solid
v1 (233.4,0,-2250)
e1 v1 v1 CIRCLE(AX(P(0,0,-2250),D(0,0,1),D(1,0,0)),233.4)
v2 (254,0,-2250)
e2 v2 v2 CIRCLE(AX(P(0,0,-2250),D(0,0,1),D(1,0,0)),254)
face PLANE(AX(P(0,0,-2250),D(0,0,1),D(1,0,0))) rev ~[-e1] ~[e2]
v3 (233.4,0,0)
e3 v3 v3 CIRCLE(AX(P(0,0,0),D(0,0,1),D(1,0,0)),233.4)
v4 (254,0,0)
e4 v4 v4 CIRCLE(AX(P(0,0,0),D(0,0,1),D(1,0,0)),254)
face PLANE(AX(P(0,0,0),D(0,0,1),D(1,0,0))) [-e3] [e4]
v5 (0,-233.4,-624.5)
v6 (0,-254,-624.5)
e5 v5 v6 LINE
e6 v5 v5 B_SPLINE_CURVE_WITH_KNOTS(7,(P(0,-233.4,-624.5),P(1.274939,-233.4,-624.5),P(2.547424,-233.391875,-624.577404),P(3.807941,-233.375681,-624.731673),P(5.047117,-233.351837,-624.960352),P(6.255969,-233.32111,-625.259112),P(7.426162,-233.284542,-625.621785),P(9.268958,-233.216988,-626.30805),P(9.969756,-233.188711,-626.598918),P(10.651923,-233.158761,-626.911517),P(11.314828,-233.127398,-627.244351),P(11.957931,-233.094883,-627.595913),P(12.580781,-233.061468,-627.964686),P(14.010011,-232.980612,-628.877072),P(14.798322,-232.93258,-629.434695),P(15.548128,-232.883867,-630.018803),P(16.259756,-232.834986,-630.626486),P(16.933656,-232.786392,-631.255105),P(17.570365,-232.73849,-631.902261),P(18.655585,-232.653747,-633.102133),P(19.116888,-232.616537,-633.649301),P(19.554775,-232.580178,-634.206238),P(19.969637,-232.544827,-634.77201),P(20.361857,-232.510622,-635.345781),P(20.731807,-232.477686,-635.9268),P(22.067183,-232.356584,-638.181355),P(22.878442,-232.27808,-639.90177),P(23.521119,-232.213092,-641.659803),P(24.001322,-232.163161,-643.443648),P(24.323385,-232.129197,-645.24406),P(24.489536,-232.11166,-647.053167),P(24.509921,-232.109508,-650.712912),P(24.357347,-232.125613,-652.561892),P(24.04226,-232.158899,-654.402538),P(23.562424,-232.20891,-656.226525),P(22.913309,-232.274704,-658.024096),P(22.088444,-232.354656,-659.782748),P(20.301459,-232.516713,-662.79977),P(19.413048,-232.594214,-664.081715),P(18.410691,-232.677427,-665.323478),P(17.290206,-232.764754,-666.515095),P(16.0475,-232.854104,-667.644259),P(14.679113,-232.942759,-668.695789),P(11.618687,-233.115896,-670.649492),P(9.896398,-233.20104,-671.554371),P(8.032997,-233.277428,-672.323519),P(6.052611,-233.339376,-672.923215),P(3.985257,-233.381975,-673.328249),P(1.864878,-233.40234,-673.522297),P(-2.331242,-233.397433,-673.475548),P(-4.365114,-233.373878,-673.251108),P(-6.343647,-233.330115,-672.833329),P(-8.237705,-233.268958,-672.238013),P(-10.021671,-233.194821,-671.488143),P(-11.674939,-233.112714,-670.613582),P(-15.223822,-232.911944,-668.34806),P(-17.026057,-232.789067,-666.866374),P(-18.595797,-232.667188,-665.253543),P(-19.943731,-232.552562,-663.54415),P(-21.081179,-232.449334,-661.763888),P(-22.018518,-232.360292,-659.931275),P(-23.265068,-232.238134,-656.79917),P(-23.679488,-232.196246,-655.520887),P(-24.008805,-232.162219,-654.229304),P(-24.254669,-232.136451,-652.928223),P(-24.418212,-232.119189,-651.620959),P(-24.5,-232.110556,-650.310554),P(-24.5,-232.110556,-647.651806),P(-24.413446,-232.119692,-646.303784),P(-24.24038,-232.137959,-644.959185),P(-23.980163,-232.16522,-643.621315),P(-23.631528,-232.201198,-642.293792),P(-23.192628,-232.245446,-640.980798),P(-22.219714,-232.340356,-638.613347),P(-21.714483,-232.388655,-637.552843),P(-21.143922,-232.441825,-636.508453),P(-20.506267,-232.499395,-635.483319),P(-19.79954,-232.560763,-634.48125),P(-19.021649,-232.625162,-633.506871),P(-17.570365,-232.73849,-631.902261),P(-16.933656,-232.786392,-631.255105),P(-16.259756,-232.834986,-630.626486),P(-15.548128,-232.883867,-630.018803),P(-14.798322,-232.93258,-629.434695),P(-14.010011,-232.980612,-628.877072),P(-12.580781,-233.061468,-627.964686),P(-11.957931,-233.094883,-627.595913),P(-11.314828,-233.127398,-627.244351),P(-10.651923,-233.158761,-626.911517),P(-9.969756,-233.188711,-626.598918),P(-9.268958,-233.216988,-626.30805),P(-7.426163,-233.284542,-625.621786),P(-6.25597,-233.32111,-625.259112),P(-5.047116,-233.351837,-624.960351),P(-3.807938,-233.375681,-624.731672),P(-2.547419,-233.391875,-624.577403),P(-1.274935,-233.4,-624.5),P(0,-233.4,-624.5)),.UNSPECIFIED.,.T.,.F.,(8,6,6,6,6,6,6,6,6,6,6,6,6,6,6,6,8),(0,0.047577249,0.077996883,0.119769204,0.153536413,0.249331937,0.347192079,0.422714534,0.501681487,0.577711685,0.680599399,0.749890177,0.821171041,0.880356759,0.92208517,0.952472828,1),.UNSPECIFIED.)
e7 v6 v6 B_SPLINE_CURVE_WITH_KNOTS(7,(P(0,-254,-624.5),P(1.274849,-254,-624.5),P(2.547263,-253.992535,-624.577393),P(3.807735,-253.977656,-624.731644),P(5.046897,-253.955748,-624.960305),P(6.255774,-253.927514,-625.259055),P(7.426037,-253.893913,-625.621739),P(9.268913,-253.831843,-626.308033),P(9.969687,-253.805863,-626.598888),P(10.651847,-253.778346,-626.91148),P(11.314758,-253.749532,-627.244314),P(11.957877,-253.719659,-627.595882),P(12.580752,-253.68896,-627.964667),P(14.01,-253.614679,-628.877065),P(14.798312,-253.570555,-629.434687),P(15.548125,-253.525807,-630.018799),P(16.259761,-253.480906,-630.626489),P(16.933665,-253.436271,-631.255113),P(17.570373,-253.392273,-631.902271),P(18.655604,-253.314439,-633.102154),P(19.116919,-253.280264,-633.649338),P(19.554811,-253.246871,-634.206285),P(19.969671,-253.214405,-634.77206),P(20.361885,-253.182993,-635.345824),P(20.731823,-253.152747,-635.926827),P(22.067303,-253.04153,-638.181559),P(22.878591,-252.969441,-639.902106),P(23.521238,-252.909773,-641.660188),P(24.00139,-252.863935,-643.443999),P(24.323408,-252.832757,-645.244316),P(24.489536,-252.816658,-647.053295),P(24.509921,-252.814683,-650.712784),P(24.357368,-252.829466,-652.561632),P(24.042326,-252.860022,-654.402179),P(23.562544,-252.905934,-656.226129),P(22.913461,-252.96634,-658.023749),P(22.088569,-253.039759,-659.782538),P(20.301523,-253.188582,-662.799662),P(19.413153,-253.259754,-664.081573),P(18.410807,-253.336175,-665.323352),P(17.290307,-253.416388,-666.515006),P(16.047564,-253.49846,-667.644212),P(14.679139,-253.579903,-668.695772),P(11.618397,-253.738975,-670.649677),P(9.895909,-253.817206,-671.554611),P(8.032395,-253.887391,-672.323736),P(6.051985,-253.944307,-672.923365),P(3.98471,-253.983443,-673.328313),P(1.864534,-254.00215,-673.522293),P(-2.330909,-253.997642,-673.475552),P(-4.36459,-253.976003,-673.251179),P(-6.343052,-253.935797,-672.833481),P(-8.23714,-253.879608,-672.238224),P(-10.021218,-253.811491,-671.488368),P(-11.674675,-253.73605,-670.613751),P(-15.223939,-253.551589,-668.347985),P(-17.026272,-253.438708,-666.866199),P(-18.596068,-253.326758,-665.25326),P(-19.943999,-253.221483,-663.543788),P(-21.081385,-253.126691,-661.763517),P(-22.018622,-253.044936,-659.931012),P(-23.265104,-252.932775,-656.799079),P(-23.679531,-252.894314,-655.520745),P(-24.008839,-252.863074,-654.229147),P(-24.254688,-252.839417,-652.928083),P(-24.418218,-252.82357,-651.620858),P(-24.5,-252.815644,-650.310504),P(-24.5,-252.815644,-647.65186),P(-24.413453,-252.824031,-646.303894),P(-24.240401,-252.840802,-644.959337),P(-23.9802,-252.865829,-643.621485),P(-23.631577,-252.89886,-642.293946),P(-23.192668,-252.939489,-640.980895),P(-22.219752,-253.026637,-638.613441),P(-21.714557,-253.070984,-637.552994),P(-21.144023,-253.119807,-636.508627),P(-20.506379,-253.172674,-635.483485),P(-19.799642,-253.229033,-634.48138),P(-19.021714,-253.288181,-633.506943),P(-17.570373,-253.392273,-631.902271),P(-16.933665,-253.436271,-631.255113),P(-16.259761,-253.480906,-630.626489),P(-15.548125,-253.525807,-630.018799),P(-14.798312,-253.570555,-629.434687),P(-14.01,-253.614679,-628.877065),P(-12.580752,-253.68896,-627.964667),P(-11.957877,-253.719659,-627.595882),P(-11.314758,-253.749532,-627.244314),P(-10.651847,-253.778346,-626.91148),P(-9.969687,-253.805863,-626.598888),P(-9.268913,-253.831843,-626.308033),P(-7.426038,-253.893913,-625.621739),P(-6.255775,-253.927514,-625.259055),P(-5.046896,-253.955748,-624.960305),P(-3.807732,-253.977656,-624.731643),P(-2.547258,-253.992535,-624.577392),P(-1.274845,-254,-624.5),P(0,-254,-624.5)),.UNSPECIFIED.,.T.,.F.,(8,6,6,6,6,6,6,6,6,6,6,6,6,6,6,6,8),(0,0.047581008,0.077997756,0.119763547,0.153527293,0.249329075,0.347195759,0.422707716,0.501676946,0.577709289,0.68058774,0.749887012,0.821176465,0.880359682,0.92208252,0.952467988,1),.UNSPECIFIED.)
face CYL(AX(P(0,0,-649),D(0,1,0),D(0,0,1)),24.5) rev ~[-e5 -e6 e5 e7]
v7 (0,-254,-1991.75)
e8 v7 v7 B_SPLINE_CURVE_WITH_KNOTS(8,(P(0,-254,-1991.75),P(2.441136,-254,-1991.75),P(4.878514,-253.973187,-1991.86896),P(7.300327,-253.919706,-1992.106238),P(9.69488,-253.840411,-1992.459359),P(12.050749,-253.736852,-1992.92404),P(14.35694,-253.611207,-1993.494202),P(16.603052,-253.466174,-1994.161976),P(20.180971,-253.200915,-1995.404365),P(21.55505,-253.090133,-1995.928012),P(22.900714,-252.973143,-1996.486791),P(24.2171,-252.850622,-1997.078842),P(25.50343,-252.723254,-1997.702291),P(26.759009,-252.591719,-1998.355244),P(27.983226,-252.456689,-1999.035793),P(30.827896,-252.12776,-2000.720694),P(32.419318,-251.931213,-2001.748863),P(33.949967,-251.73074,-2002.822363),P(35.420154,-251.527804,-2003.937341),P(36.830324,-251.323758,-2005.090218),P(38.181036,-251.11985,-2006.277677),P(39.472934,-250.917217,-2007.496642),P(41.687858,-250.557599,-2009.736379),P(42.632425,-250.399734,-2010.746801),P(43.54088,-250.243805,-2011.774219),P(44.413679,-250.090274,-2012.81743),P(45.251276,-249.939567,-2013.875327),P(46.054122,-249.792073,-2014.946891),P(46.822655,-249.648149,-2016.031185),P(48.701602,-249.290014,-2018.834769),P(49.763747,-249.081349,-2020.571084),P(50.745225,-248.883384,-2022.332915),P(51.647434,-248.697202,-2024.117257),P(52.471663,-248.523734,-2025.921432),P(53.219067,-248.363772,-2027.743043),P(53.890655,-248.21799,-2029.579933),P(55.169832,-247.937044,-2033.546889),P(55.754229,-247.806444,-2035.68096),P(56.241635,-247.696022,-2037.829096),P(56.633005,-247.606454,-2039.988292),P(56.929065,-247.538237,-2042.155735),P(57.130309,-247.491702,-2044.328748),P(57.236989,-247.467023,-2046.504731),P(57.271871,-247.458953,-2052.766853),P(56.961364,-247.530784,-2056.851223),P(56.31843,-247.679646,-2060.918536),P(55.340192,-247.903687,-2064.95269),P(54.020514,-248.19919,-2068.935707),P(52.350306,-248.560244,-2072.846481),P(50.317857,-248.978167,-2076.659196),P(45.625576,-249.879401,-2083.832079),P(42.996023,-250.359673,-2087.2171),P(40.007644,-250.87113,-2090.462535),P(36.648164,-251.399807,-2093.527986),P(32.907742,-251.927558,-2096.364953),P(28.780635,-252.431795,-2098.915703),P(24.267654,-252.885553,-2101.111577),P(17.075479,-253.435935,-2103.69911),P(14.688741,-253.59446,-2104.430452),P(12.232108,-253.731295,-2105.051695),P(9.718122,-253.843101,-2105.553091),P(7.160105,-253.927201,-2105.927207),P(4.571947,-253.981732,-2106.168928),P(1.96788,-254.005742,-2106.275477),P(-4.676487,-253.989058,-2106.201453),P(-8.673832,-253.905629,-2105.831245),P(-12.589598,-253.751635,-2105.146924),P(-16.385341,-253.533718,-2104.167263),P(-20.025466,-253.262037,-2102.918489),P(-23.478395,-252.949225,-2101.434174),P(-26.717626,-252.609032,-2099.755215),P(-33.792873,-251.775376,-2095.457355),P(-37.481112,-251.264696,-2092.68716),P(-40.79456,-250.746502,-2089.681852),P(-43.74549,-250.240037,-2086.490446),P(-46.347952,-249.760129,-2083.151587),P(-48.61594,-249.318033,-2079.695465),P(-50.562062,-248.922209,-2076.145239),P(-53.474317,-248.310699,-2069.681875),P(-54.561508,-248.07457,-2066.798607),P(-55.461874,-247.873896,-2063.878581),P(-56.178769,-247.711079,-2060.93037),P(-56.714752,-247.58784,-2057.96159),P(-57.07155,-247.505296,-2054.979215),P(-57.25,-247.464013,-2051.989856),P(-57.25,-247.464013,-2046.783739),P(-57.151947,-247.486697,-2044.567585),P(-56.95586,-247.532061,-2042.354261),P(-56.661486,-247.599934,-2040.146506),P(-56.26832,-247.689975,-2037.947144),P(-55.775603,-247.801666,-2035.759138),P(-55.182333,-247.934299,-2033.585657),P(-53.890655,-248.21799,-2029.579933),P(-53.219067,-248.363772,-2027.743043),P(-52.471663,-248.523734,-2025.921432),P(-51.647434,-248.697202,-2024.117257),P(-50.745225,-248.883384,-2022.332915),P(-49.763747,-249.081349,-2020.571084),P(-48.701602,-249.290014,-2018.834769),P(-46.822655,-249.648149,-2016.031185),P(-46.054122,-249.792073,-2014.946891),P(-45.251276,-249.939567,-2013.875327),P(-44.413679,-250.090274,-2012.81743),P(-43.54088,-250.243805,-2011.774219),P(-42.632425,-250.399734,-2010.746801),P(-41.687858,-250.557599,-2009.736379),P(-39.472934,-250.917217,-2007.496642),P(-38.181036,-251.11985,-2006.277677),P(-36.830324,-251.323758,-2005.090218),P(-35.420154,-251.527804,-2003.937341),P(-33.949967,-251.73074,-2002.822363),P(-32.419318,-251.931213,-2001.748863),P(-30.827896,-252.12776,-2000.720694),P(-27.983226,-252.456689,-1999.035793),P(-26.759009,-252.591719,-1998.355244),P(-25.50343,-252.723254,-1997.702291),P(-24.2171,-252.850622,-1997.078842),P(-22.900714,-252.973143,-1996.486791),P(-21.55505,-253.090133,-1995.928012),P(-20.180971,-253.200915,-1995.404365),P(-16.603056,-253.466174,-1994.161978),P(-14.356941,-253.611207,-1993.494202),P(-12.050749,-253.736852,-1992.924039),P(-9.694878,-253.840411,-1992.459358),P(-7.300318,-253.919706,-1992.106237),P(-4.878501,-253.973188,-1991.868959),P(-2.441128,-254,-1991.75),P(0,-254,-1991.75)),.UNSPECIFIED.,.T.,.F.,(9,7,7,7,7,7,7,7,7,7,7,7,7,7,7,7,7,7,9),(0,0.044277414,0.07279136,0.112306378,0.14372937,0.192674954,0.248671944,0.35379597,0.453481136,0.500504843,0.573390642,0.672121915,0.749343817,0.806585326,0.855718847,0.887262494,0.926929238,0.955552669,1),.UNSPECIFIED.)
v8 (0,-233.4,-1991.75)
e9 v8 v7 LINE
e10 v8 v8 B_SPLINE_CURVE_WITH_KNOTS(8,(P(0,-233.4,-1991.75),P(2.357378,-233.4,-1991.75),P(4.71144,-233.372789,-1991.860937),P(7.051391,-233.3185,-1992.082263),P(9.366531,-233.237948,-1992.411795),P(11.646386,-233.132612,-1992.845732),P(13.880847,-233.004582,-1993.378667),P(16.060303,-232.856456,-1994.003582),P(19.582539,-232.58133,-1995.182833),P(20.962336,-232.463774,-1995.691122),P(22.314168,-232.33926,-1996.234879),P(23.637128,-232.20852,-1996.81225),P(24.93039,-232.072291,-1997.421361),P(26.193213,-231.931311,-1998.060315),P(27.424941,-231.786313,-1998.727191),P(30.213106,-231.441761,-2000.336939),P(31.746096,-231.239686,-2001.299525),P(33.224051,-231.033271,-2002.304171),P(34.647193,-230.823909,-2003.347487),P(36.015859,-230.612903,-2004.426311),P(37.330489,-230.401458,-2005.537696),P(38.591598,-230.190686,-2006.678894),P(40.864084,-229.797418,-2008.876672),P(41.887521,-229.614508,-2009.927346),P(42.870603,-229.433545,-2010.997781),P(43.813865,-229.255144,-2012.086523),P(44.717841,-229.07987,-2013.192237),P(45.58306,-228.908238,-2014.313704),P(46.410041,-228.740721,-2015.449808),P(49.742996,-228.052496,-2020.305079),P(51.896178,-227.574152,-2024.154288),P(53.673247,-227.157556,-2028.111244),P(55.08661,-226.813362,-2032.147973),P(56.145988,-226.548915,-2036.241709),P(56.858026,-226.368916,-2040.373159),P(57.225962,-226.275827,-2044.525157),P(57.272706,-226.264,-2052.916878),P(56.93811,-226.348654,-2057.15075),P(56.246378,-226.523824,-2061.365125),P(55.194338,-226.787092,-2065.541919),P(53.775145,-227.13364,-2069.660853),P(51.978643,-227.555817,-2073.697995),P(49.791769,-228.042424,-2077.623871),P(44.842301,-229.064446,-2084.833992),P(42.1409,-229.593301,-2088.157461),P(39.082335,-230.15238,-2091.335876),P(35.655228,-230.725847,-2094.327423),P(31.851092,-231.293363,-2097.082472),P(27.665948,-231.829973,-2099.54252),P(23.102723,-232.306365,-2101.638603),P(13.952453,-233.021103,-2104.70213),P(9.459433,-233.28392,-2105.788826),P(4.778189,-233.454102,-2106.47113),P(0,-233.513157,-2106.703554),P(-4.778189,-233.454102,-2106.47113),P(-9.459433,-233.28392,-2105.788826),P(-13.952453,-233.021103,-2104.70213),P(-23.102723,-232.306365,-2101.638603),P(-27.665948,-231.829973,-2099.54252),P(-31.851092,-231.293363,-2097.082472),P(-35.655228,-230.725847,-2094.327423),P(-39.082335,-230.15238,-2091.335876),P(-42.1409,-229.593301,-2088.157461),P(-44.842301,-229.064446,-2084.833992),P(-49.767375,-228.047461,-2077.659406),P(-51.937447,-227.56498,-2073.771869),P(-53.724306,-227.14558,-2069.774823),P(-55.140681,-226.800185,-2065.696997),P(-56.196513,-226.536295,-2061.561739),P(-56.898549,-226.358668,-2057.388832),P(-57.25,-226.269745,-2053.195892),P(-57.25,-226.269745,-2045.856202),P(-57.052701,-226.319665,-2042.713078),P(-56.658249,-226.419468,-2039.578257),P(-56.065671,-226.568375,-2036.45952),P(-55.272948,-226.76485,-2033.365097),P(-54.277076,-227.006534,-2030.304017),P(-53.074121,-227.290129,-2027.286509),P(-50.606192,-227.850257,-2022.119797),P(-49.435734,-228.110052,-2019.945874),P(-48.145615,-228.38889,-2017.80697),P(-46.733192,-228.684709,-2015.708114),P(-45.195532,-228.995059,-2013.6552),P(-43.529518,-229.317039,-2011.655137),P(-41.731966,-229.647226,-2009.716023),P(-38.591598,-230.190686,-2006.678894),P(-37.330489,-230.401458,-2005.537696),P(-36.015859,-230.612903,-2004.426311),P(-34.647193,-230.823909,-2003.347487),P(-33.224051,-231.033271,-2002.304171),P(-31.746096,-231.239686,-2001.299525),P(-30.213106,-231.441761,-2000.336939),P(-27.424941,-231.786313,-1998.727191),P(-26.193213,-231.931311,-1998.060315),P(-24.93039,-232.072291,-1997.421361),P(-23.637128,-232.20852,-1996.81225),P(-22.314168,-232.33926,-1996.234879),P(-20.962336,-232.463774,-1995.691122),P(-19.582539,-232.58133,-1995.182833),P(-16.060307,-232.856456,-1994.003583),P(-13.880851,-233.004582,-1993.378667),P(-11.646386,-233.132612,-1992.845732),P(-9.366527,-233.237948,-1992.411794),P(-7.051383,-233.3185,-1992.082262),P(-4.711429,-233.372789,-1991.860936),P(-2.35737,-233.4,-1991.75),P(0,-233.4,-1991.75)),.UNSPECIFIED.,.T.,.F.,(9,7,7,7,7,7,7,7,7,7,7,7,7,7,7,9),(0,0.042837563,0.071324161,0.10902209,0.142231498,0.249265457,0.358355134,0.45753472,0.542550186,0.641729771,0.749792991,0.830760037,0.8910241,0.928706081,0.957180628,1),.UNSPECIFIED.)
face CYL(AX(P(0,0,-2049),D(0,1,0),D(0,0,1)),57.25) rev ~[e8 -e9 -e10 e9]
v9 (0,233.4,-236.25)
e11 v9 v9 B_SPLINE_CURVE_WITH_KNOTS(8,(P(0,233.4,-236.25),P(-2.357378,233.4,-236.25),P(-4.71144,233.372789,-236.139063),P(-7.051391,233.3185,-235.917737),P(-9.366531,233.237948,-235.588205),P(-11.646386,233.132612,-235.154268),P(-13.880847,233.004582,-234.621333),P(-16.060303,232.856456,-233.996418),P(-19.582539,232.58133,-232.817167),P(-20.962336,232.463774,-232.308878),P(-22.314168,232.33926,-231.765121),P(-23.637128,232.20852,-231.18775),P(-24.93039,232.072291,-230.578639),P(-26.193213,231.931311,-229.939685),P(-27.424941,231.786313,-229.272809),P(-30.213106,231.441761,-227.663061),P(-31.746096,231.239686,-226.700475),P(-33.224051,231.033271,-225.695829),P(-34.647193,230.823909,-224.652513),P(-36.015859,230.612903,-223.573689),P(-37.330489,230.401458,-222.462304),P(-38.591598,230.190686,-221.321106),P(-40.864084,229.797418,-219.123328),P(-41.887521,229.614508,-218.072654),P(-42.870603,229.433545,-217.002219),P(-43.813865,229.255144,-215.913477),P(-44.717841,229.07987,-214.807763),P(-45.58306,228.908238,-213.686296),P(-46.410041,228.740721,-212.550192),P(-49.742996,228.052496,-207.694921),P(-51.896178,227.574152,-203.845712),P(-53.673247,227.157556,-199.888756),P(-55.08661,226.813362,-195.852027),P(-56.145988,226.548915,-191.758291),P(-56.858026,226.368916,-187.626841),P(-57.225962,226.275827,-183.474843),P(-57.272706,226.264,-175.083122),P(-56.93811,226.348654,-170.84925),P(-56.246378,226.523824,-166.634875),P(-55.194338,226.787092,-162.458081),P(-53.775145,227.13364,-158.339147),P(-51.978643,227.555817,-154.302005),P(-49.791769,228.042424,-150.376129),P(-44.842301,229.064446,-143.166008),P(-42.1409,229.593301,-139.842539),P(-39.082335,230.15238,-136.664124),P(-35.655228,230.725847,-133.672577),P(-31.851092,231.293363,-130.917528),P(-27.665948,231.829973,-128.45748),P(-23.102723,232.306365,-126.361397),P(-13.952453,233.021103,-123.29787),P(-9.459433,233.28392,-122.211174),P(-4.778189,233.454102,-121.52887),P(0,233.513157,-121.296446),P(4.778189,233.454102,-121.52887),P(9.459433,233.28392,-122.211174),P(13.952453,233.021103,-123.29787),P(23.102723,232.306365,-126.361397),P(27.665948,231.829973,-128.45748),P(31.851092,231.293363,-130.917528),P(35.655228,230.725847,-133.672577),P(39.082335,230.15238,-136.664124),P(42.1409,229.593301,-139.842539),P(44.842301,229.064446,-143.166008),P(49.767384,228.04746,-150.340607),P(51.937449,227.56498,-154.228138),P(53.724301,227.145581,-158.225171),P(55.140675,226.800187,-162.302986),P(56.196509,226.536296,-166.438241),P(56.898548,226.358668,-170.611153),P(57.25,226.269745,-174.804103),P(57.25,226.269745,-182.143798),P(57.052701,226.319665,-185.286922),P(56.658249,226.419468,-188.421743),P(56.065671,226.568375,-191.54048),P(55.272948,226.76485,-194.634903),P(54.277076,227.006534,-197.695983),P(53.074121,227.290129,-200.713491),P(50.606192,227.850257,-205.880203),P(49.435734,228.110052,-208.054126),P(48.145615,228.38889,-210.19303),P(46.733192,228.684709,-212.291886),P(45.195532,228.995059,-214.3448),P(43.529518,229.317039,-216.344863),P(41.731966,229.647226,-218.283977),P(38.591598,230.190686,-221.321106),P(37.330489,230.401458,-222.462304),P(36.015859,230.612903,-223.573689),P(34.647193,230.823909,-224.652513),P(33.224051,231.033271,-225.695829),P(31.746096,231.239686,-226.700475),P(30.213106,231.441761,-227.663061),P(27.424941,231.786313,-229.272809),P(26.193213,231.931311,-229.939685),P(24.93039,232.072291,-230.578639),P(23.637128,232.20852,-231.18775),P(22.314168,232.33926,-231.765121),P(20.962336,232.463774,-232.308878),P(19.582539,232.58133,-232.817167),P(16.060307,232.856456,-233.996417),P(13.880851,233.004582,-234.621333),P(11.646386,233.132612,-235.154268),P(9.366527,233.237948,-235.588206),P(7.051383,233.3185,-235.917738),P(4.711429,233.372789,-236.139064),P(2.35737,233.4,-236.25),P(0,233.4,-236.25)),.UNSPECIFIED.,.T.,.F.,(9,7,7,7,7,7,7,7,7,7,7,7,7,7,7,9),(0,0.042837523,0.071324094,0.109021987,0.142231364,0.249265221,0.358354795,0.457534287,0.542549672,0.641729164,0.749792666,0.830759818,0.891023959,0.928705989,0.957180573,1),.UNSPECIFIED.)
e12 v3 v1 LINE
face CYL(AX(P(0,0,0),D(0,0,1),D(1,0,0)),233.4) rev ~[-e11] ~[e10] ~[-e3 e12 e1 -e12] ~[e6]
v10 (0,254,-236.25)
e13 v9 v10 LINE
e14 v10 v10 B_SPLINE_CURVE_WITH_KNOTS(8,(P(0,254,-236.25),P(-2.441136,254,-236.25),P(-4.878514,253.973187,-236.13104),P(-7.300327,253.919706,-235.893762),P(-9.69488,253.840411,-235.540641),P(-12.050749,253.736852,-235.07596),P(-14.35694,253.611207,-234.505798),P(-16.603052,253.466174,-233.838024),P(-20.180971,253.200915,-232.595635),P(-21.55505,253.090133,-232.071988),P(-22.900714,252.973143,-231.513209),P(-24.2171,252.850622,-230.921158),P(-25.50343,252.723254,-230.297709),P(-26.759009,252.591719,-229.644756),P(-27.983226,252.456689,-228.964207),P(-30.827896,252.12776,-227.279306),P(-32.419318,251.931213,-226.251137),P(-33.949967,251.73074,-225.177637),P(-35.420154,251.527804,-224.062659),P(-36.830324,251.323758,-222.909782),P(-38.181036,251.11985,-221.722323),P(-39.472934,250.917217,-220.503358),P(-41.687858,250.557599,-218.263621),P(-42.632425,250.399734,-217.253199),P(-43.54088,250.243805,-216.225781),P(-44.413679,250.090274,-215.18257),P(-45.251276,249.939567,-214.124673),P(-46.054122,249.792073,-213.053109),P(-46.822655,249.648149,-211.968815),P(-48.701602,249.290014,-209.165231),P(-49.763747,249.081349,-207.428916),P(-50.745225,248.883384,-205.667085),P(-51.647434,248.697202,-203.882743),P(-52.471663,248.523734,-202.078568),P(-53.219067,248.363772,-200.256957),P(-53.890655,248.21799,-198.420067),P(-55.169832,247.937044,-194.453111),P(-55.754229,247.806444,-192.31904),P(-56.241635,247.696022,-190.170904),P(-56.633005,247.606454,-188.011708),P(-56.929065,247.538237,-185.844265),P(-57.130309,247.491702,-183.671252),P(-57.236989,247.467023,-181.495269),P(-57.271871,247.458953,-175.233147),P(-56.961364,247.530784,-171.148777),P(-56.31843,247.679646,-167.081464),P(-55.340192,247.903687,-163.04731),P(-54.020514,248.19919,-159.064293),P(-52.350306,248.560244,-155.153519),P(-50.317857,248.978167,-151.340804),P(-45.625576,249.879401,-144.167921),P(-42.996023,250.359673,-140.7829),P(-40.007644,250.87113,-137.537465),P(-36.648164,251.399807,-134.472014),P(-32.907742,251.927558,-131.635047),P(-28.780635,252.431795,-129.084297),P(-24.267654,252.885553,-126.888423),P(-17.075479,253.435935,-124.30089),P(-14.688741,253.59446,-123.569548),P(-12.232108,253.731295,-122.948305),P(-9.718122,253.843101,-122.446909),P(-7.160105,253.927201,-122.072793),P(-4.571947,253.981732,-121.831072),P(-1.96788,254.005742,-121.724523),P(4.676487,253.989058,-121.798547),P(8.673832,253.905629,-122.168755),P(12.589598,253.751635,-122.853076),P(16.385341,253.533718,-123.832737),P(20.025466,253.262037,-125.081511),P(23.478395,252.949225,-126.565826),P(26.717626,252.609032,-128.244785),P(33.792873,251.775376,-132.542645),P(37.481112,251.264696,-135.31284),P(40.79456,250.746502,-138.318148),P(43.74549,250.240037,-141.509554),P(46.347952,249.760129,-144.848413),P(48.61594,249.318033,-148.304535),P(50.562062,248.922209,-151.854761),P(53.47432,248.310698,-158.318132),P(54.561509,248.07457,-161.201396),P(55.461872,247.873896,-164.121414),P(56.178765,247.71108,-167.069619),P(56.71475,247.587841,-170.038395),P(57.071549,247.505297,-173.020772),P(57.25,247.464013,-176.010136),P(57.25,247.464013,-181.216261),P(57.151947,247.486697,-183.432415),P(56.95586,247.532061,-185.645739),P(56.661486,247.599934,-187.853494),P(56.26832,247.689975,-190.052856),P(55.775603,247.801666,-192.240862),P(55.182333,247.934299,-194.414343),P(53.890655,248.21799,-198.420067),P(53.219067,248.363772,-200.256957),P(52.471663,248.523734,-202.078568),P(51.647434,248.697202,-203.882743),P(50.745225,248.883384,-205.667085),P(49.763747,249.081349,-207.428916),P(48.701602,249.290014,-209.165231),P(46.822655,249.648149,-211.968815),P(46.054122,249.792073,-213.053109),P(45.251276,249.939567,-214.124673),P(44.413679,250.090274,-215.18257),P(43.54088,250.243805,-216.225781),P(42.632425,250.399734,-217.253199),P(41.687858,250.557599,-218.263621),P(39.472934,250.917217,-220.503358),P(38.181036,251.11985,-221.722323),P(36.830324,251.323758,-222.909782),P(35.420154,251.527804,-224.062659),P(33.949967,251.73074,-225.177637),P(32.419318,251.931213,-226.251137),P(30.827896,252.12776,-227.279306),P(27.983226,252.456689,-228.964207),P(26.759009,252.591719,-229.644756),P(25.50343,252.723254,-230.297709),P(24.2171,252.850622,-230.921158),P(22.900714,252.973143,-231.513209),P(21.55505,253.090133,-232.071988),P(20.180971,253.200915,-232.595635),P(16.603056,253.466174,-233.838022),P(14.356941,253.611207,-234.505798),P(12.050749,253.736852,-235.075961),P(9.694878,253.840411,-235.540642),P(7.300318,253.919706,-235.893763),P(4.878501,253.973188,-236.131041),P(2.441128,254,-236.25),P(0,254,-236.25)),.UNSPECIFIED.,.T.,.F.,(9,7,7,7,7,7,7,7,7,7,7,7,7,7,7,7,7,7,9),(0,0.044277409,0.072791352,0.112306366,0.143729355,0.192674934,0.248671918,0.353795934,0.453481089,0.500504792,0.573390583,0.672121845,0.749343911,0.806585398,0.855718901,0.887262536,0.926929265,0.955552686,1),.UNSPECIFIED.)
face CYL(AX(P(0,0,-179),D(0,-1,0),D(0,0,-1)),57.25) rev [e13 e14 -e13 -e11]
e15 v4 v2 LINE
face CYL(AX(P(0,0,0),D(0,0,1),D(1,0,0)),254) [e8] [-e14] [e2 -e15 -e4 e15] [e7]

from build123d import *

# Parameters (mm, degrees)
SKETCH1_R           = 254
SKETCH1_R_2         = 233.4
BOSS_EXTRUDE1_DEPTH = 2250
SKETCH2_R           = 57.25
CUT_EXTRUDE1_DEPTH  = 2250
SKETCH3_R           = 57.25
SKETCH3_R_2         = 24.5
CUT_EXTRUDE2_DEPTH  = 2250


with BuildPart() as part:
    # Sketch1 → Boss-Extrude1 (new body)
    with BuildSketch(Plane.XY):
        Circle(SKETCH1_R)
        Circle(SKETCH1_R_2, mode=Mode.SUBTRACT)
    extrude(amount=-BOSS_EXTRUDE1_DEPTH)

    # Sketch2 → Cut-Extrude1 (cut)
    with BuildSketch(Plane(origin=(0, 0, 0), x_dir=(1, 0, 0), z_dir=(0, 1, 0))):
        with Locations(Location((0, 179, 0), (0, 0, 90))):
            Circle(SKETCH2_R)
    extrude(amount=CUT_EXTRUDE1_DEPTH, mode=Mode.SUBTRACT)

    # Sketch3 → Cut-Extrude2 (cut)
    with BuildSketch(Plane(origin=(0, 0, 0), x_dir=(1, 0, 0), z_dir=(0, 1, 0))):
        with Locations(Location((0, 2049, 0), (0, 0, 270))):
            Circle(SKETCH3_R)
        with Locations(Location((0, 649, 0), (0, 0, 270))):
            Circle(SKETCH3_R_2)
    extrude(amount=-CUT_EXTRUDE2_DEPTH, mode=Mode.SUBTRACT)


solid = part.part
